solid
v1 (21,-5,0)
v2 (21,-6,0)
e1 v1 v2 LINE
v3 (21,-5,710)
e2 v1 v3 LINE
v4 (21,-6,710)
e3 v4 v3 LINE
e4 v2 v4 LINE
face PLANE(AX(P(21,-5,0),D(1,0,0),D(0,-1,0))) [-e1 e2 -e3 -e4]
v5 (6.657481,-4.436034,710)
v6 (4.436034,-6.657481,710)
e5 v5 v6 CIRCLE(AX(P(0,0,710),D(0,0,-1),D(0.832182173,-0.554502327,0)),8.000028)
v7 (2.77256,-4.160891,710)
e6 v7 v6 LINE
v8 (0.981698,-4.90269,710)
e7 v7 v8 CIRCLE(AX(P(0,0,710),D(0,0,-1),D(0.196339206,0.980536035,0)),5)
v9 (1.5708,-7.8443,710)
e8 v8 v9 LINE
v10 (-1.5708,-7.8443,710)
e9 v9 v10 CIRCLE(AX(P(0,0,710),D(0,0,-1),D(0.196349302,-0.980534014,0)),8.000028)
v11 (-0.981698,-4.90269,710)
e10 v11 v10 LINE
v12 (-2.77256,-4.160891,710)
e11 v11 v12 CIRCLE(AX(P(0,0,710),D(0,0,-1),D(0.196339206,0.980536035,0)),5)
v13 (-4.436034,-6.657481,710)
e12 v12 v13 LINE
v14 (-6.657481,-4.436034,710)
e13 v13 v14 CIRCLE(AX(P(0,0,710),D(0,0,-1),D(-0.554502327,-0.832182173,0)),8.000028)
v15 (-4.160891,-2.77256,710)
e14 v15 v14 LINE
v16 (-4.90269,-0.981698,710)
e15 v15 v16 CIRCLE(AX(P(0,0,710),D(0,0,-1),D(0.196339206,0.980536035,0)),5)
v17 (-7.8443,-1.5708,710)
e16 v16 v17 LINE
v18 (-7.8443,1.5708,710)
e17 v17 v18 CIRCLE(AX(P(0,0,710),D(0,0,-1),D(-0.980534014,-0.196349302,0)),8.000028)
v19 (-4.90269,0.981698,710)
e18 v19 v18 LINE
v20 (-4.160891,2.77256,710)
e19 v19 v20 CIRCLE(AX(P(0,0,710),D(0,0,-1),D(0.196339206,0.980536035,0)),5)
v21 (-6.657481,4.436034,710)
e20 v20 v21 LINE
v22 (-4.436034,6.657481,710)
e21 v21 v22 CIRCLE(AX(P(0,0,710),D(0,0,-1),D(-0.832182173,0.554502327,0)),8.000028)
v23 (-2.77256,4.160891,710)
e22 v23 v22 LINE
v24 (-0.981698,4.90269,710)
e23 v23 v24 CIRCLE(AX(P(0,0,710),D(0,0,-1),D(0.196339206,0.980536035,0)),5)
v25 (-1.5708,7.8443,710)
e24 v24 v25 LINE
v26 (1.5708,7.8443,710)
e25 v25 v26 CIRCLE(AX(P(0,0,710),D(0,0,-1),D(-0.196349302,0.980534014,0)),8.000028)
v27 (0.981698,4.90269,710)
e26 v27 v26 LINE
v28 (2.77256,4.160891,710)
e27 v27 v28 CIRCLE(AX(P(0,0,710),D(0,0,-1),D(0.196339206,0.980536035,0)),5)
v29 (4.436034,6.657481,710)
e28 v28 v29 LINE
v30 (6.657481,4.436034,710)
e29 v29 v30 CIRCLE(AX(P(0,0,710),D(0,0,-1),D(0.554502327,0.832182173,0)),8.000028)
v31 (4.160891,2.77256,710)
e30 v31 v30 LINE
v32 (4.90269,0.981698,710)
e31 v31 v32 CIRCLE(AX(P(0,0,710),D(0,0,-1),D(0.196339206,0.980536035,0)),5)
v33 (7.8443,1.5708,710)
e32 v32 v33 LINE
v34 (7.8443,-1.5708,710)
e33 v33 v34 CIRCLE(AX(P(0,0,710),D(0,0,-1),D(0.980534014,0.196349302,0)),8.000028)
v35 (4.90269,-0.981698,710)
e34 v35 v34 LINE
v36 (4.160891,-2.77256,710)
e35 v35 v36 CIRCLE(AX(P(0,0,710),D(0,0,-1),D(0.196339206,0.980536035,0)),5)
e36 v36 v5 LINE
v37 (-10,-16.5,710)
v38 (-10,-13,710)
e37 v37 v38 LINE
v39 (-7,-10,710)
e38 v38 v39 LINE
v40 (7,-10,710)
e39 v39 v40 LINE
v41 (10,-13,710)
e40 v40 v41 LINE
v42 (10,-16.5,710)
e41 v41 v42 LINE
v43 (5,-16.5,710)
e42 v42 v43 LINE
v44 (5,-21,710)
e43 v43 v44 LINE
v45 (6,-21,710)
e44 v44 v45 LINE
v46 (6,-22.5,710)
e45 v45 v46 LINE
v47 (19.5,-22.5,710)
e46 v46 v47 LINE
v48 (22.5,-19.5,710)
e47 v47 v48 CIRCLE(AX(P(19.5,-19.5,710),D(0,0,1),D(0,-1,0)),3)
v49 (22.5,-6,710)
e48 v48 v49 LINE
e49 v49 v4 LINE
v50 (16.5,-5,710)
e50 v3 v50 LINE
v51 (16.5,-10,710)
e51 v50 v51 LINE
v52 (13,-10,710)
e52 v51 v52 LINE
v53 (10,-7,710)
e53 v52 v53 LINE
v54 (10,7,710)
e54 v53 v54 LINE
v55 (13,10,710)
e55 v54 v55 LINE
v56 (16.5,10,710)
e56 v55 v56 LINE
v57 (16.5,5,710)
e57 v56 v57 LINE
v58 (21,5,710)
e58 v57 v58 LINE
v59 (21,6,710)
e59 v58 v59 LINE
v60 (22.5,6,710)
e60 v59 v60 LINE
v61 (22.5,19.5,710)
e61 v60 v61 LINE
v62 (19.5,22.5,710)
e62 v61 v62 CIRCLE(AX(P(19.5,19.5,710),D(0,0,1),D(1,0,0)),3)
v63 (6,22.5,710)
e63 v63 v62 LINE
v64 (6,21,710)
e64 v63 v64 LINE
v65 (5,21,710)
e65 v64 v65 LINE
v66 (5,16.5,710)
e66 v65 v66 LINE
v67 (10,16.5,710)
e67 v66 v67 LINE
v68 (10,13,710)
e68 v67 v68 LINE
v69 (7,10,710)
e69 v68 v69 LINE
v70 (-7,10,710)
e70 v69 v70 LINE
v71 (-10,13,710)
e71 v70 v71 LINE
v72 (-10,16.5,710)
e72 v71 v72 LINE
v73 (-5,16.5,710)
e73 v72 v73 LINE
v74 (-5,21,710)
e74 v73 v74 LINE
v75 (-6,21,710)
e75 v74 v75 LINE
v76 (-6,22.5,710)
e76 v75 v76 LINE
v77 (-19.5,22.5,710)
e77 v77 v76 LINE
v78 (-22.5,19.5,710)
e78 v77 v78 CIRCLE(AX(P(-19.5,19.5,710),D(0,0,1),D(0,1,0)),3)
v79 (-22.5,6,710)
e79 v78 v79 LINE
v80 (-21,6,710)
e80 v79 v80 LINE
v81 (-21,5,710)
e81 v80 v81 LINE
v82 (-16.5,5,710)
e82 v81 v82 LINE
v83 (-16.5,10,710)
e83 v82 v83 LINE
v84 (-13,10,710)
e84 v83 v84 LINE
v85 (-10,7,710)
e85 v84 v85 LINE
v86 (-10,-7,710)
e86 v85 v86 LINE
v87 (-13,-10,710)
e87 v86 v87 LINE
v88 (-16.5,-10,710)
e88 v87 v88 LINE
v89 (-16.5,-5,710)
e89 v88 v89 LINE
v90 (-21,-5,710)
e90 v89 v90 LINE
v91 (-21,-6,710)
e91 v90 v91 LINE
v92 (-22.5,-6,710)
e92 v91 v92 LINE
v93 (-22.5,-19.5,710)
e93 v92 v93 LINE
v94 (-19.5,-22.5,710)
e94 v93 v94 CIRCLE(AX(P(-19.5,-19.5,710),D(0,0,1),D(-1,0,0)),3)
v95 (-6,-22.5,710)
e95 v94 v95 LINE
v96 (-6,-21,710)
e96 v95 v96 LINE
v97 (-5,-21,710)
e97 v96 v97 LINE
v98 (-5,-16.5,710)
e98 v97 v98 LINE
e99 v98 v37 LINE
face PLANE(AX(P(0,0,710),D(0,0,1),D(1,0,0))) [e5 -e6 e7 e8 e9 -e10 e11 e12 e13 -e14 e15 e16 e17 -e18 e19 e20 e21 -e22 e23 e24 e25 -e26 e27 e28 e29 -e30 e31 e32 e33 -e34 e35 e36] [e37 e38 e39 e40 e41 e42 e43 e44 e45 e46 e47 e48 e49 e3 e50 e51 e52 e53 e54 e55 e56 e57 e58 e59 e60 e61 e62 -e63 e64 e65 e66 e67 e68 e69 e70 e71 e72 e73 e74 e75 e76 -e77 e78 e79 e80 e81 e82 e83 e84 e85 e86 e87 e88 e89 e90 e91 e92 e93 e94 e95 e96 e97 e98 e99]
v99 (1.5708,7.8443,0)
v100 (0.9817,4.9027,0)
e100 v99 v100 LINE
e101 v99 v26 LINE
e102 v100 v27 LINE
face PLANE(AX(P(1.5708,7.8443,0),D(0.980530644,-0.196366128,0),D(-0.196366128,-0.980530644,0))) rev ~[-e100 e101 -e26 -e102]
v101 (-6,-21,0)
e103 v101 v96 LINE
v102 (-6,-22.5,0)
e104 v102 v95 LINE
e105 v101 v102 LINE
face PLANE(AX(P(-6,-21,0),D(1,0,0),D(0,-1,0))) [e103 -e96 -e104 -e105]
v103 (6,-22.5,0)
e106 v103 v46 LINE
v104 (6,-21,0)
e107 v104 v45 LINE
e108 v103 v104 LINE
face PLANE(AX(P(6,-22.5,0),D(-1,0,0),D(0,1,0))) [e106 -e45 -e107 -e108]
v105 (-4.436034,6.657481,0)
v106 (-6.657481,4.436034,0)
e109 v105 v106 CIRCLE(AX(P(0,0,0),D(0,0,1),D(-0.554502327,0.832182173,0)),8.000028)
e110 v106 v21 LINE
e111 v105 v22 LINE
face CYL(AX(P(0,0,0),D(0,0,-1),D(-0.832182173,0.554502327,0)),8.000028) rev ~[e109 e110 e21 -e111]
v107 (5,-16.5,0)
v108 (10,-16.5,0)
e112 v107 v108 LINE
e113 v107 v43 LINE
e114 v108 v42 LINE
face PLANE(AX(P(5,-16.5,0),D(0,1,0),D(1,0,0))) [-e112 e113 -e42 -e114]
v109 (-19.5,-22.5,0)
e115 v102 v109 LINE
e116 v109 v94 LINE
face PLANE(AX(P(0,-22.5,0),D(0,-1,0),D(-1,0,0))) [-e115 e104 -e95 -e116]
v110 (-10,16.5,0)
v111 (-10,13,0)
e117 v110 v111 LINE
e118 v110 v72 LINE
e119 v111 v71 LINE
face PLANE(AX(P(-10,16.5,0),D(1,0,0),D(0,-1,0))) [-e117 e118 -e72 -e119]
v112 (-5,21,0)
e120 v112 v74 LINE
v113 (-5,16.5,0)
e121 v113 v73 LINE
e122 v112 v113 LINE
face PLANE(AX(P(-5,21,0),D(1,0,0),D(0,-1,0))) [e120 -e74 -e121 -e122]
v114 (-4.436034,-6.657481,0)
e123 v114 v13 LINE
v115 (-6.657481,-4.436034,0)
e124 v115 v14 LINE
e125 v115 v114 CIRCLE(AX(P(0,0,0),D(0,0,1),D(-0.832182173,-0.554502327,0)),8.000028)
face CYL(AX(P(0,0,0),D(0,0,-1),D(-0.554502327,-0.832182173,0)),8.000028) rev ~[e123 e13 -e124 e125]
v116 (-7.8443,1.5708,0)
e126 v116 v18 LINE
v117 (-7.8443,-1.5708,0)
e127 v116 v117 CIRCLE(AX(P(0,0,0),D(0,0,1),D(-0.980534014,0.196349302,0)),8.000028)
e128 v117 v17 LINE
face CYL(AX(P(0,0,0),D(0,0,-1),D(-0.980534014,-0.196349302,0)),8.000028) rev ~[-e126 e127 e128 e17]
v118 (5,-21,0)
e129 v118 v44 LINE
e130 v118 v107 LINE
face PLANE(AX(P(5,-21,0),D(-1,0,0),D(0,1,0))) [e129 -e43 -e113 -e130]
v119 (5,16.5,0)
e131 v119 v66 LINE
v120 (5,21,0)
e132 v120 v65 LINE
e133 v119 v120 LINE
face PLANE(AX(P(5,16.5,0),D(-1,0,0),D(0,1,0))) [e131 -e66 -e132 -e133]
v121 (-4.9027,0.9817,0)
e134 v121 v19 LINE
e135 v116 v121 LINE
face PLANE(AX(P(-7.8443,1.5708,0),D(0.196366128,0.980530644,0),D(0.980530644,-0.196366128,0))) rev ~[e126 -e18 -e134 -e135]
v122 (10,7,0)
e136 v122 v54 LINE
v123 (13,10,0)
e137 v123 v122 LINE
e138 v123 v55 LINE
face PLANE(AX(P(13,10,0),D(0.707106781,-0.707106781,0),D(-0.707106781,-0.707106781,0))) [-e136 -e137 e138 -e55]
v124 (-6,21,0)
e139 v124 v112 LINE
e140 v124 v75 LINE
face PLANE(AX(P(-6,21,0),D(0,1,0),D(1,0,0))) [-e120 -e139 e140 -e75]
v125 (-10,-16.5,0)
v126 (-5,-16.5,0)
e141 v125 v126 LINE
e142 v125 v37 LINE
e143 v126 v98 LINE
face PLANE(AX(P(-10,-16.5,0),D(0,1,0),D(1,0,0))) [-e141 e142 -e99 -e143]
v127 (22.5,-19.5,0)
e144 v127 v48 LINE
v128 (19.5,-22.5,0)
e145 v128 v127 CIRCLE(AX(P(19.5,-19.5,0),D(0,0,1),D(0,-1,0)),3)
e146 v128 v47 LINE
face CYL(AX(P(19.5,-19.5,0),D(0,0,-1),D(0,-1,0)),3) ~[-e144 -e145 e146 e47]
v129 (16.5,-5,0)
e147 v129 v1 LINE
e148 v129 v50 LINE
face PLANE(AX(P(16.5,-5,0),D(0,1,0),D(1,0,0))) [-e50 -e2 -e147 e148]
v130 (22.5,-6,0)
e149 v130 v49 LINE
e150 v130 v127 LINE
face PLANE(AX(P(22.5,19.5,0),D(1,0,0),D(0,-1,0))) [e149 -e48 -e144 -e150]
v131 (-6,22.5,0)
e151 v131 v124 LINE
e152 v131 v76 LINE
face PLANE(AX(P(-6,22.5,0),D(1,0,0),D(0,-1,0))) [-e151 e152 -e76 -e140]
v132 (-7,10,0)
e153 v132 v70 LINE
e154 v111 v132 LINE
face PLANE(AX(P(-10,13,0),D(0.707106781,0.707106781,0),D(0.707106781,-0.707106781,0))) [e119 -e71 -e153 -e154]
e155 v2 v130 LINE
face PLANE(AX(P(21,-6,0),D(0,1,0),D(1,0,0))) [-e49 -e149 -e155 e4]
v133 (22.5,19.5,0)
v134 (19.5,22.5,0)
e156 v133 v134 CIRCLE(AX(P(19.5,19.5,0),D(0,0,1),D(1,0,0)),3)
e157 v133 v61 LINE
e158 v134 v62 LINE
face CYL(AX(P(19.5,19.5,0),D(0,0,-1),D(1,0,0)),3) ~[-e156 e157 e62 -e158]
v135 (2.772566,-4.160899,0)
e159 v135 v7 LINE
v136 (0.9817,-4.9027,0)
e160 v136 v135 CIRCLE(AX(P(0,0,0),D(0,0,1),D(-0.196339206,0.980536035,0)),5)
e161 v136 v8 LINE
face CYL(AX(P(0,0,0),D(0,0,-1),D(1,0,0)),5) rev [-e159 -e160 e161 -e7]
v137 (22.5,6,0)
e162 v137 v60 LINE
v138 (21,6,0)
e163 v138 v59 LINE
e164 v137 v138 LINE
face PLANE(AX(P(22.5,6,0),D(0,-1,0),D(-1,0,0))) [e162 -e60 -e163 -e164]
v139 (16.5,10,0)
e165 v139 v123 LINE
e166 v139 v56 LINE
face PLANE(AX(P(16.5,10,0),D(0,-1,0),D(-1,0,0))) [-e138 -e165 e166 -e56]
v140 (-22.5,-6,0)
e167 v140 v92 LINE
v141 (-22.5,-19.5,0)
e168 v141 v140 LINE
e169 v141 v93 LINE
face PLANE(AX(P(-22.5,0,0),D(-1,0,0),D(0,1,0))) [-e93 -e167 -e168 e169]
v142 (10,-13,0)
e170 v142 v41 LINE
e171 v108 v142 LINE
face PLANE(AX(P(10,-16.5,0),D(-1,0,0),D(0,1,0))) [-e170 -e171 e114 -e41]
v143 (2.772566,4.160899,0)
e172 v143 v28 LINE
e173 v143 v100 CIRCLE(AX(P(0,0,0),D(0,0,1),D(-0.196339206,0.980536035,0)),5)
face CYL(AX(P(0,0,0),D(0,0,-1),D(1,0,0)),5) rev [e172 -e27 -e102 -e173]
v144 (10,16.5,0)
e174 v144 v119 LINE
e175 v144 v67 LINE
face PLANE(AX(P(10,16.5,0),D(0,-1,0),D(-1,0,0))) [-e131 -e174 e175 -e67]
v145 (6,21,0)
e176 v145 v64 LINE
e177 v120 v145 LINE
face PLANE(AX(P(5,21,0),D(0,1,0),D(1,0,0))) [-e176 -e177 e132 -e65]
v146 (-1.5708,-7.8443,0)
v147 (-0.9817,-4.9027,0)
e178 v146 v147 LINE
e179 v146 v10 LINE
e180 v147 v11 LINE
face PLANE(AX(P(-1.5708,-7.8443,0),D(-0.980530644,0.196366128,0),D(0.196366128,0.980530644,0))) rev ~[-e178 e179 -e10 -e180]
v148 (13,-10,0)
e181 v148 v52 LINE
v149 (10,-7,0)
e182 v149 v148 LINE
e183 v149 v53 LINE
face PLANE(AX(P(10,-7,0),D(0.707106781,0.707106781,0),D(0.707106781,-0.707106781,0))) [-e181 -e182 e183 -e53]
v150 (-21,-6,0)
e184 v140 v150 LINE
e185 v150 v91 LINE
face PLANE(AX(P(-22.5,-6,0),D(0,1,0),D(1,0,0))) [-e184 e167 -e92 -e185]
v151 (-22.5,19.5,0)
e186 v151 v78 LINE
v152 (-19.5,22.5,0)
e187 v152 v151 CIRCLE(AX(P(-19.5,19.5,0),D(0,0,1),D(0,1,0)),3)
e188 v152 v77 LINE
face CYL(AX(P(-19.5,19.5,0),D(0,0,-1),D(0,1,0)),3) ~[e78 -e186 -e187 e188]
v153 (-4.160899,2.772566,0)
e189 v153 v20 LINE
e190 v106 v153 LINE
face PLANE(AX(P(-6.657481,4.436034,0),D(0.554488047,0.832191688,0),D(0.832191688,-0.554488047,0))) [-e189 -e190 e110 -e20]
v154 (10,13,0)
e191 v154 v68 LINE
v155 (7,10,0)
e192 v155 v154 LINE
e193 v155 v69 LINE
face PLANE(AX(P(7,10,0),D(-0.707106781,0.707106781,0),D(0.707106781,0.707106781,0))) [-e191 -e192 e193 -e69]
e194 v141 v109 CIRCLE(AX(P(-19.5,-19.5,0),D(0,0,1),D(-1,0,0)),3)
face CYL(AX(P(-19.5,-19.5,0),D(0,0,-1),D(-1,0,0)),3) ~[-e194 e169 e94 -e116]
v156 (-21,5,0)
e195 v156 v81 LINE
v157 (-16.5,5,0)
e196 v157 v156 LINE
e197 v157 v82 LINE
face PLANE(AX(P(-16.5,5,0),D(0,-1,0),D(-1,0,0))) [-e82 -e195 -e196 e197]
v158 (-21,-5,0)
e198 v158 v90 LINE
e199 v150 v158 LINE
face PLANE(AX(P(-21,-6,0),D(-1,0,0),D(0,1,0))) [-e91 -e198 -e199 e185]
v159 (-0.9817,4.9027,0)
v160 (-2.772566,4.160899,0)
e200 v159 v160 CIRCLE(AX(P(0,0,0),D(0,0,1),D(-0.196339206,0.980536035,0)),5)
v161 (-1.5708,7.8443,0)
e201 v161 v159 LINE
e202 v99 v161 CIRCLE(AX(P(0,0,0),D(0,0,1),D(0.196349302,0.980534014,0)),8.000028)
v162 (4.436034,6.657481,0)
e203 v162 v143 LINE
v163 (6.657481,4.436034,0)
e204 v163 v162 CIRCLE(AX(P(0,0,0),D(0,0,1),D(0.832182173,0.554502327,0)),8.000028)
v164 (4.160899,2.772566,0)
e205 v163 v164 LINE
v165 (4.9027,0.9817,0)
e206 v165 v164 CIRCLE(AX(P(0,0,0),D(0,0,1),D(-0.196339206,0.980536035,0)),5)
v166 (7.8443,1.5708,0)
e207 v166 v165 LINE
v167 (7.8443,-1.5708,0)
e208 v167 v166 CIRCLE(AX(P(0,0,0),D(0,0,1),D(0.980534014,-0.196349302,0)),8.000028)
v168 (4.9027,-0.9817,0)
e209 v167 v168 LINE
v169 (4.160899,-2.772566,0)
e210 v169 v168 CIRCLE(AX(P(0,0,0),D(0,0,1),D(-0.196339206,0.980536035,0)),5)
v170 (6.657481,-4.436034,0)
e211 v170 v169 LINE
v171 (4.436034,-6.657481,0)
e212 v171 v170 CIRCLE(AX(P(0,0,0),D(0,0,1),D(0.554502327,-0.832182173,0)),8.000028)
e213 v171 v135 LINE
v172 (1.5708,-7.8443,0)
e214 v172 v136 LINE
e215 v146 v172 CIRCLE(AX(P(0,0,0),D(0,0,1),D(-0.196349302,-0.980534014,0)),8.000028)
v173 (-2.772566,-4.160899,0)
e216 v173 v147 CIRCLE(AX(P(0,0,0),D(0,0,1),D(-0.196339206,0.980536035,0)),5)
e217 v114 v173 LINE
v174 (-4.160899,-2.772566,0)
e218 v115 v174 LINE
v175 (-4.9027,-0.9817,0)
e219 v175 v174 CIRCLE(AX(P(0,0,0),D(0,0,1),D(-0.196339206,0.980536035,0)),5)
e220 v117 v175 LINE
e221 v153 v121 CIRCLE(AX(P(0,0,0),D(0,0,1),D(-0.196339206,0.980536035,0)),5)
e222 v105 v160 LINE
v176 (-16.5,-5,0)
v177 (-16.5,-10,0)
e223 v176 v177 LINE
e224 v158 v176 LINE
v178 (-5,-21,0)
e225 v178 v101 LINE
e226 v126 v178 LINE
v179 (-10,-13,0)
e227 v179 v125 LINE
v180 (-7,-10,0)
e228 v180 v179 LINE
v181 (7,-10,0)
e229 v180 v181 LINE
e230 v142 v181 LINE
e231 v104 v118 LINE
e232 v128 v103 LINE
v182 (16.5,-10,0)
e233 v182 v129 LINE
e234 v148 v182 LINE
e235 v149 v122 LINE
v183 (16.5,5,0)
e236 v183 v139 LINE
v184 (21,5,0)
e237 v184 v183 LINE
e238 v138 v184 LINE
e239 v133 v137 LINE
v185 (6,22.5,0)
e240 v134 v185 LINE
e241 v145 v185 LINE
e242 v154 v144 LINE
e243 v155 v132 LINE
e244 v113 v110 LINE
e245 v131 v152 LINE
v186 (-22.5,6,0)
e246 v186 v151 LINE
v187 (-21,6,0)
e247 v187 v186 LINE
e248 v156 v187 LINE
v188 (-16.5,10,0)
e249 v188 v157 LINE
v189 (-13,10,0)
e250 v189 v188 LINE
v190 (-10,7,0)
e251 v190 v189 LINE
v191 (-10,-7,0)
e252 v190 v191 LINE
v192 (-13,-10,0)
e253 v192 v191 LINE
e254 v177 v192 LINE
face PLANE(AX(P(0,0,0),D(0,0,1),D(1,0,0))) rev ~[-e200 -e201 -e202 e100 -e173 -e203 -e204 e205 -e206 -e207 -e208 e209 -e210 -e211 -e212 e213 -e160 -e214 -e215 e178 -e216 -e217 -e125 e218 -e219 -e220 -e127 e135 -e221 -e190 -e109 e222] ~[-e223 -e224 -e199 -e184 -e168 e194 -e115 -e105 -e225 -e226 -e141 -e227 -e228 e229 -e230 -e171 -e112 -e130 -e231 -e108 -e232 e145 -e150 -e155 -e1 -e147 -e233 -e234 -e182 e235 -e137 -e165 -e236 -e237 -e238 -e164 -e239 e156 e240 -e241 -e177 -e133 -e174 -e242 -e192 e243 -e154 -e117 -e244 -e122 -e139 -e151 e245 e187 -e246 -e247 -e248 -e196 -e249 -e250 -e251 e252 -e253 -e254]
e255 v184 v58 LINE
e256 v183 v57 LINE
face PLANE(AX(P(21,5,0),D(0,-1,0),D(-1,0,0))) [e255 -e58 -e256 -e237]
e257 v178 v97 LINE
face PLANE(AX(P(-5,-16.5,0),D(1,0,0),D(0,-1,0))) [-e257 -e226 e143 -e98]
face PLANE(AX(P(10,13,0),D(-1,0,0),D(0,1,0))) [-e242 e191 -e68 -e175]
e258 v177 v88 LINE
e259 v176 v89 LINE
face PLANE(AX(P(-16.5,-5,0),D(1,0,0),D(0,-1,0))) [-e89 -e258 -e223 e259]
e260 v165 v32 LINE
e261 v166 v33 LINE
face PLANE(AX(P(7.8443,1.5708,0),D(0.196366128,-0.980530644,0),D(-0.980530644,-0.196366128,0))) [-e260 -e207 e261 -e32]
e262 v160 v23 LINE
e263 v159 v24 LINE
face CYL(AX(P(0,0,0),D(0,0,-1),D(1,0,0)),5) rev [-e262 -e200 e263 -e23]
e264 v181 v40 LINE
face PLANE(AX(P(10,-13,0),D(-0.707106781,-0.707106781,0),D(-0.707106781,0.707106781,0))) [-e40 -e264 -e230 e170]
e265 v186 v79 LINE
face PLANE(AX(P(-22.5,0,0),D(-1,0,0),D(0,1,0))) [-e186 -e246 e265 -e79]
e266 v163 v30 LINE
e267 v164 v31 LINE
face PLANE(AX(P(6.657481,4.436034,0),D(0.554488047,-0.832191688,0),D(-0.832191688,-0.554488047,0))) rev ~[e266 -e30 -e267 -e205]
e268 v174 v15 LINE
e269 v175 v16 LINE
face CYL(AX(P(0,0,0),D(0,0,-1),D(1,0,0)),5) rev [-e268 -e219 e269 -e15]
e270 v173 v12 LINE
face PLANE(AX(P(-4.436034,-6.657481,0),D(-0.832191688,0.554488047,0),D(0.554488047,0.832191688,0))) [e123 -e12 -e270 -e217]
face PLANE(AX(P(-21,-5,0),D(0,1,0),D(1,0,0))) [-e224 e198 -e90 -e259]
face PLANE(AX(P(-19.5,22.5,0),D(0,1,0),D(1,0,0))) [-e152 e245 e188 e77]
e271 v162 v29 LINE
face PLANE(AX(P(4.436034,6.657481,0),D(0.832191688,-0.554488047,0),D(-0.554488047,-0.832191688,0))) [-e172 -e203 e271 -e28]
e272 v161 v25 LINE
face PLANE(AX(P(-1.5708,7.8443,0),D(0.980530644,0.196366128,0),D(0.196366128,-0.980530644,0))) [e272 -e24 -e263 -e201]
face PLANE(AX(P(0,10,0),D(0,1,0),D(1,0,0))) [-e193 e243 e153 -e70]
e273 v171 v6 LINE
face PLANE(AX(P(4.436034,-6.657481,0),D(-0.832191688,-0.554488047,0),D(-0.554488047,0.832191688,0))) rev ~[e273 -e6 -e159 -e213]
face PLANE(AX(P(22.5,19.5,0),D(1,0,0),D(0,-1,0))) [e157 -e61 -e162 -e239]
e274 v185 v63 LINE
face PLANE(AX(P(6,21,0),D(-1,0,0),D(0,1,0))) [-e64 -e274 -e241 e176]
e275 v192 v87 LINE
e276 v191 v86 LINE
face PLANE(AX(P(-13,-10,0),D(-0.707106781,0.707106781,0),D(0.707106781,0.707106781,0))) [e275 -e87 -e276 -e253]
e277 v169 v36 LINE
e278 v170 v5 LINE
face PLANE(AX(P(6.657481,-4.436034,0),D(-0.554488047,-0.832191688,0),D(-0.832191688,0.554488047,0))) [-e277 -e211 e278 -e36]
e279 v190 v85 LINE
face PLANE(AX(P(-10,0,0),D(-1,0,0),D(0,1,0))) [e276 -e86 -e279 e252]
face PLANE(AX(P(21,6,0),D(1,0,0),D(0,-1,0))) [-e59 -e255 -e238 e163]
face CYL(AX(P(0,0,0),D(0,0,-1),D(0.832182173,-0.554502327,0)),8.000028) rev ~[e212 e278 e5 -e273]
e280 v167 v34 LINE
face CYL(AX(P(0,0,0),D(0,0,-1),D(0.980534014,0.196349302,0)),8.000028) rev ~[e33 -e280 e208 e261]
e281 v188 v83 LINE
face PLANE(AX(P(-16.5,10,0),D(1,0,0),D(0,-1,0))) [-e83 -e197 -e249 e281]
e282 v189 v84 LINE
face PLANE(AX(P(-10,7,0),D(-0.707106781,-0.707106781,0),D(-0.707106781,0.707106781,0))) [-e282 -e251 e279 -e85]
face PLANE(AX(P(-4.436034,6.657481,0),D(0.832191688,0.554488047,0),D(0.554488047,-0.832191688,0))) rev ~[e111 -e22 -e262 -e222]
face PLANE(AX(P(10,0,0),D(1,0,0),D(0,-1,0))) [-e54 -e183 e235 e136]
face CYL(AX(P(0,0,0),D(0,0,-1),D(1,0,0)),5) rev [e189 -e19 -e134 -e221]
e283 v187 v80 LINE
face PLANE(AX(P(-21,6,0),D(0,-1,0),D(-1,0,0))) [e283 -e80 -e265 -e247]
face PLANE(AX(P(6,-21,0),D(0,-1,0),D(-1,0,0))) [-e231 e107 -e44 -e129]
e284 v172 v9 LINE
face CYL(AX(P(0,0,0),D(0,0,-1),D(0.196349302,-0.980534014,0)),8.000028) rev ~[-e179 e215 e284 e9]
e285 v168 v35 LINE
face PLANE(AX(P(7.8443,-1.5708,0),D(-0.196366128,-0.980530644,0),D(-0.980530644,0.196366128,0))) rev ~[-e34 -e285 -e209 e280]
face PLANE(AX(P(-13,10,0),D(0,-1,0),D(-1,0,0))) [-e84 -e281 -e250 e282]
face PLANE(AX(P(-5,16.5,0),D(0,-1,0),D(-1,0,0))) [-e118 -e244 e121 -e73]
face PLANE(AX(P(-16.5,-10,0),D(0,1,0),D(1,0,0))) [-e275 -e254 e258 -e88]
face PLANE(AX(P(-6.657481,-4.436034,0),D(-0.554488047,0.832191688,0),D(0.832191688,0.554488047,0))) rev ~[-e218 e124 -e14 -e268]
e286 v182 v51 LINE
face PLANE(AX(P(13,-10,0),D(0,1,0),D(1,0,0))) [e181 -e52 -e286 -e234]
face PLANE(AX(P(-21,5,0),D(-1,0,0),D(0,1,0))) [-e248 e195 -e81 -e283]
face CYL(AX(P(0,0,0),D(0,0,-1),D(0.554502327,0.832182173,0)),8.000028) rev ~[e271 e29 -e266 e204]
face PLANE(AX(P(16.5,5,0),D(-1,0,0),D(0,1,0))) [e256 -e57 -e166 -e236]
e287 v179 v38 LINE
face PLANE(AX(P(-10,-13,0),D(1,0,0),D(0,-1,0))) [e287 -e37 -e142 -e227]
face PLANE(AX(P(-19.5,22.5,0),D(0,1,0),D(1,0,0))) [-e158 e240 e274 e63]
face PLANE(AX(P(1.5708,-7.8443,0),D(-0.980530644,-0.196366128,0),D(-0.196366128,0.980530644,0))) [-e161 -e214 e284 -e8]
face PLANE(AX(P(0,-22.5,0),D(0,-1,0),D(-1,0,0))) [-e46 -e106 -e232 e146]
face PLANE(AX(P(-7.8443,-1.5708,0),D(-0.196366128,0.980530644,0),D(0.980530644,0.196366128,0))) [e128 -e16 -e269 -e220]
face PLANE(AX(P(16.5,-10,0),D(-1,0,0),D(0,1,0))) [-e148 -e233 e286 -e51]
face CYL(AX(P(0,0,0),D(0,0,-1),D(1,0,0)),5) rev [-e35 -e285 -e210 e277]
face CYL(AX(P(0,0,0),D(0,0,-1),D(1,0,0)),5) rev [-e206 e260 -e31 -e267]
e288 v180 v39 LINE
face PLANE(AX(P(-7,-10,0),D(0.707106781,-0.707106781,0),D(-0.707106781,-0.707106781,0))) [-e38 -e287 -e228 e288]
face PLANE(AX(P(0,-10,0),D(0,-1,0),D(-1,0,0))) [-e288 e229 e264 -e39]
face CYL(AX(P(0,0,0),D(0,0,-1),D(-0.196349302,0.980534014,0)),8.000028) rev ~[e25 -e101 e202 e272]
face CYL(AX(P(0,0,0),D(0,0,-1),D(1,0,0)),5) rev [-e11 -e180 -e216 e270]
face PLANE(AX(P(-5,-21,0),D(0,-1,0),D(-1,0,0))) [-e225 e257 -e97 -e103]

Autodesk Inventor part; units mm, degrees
ref_plane "YZ Plane" through (0, 0, 0) normal (1, 0, 0) x (0, 1, 0)
ref_plane "XZ Plane" through (0, 0, 0) normal (0, 1, 0) x (-1, 0, 0)
ref_plane "XY Plane" through (0, 0, 0) normal (0, 0, 1) x (1, 0, 0)
sketch "Skizze1" plane through (0, 0, 0) normal (0, 0, 1) x (1, 0, 0)
  line L0 (-19.5, 22.5) -> (19.5, 22.5)
  line L1 (22.5, 19.5) -> (22.5, -19.5)
  line L2 (19.5, -22.5) -> (-19.5, -22.5)
  line L3 (-22.5, -19.5) -> (-22.5, 19.5)
  circle A0 centre (0, 0) radius 5
  line L4 (-32.3698, 0) -> (32.3698, 0) projected
  line L5 (0, -32.3698) -> (0, 32.3698) projected
  arc A1 (22.5, 19.5) -> (19.5, 22.5) centre (19.5, 19.5) ccw
  arc A2 (-19.5, 22.5) -> (-22.5, 19.5) centre (-19.5, 19.5) ccw
  arc A3 (-22.5, -19.5) -> (-19.5, -22.5) centre (-19.5, -19.5) ccw
  arc A4 (19.5, -22.5) -> (22.5, -19.5) centre (19.5, -19.5) ccw
  point P0 (-22.5, 22.5)
  point P1 (22.5, 22.5)
  point P2 (-22.5, -22.5)
  dimension "d0" = 45
  dimension "d1" = 45
  dimension "d2" = 10
  dimension "d3" = 3
extrude "Extrusion1" add sketch "Skizze1" along normal blind 710 contours L0 L5 A0 L4 L3 A2 | L0 A1 L1 L4 A0 L5 | L4 A0 L5 L2 A3 L3 | L4 L1 A4 L2 L5 A0
sketch "Skizze2" plane through (0, 0, 0) normal (0, 0, -1) x (-1, 0, 0)
  line L0 (19.5, -22.5) -> (-19.5, -22.5) projected
  line L1 (31.5, 0) -> (-31.5, 0) projected
  line L2 (0, -31.5) -> (0, 31.5) projected
  line L3 (-6, -22.5) -> (-6, -21)
  line L4 (-6, -21) -> (-5, -21)
  line L5 (-5, -21) -> (-5, -16.5)
  line L6 (-5, -16.5) -> (-10, -16.5)
  line L7 (-10, -16.5) -> (-10, -13)
  line L8 (-10, -13) -> (-7, -10)
  line L9 (-7, -10) -> (7, -10)
  line L10 (7, -10) -> (10, -13)
  line L11 (10, -13) -> (10, -16.5)
  line L12 (10, -16.5) -> (5, -16.5)
  line L13 (5, -16.5) -> (5, -21)
  line L14 (5, -21) -> (6, -21)
  line L15 (6, -21) -> (6, -22.5)
  dimension "d6" = 10
  dimension "d7" = 20
  dimension "d8" = 12
  dimension "d9" = 1.5
  dimension "d10" = 12.5
  dimension "d11" = 135
  dimension "d12" = 6
  dimension "d13" = 3.5
extrude "Extrusion2" cut sketch "Skizze2" against normal through all
pattern_circular "Runde Anordnung1" count 4 over 360 about axis through (0, 0, 0) along (0, 0, 1) of "Extrusion2"
sketch "Skizze3" plane through (0, 0, 0) normal (0, 0, -1) x (-1, 0, 0)
  circle A0 centre (0, 0) radius 5 projected
  line L0 (31.5, 0) -> (-31.5, 0) projected
  line L1 (0, -31.5) -> (0, 31.5) projected
  line L2 (-1.5708, 7.8443) -> (-0.9817, 4.9027)
  line L3 (1.5708, 7.8443) -> (0.9817, 4.9027)
  arc A1 (1.5708, 7.8443) -> (-1.5708, 7.8443) centre (0, 0) ccw
  dimension "d20" = 1.9635
  dimension "d21" = 3.1416
  dimension "d22" = 8
extrude "Extrusion3" cut sketch "Skizze3" against normal through all contours A0 L1 A1 L3 | A0 L2 A1 L1
pattern_circular "Runde Anordnung2" count 8 over 360 about axis through (0, 0, 0) along (0, 0, 1) of "Extrusion3"
properties part number "Alu-Profil Nut 10 45x45 710"
